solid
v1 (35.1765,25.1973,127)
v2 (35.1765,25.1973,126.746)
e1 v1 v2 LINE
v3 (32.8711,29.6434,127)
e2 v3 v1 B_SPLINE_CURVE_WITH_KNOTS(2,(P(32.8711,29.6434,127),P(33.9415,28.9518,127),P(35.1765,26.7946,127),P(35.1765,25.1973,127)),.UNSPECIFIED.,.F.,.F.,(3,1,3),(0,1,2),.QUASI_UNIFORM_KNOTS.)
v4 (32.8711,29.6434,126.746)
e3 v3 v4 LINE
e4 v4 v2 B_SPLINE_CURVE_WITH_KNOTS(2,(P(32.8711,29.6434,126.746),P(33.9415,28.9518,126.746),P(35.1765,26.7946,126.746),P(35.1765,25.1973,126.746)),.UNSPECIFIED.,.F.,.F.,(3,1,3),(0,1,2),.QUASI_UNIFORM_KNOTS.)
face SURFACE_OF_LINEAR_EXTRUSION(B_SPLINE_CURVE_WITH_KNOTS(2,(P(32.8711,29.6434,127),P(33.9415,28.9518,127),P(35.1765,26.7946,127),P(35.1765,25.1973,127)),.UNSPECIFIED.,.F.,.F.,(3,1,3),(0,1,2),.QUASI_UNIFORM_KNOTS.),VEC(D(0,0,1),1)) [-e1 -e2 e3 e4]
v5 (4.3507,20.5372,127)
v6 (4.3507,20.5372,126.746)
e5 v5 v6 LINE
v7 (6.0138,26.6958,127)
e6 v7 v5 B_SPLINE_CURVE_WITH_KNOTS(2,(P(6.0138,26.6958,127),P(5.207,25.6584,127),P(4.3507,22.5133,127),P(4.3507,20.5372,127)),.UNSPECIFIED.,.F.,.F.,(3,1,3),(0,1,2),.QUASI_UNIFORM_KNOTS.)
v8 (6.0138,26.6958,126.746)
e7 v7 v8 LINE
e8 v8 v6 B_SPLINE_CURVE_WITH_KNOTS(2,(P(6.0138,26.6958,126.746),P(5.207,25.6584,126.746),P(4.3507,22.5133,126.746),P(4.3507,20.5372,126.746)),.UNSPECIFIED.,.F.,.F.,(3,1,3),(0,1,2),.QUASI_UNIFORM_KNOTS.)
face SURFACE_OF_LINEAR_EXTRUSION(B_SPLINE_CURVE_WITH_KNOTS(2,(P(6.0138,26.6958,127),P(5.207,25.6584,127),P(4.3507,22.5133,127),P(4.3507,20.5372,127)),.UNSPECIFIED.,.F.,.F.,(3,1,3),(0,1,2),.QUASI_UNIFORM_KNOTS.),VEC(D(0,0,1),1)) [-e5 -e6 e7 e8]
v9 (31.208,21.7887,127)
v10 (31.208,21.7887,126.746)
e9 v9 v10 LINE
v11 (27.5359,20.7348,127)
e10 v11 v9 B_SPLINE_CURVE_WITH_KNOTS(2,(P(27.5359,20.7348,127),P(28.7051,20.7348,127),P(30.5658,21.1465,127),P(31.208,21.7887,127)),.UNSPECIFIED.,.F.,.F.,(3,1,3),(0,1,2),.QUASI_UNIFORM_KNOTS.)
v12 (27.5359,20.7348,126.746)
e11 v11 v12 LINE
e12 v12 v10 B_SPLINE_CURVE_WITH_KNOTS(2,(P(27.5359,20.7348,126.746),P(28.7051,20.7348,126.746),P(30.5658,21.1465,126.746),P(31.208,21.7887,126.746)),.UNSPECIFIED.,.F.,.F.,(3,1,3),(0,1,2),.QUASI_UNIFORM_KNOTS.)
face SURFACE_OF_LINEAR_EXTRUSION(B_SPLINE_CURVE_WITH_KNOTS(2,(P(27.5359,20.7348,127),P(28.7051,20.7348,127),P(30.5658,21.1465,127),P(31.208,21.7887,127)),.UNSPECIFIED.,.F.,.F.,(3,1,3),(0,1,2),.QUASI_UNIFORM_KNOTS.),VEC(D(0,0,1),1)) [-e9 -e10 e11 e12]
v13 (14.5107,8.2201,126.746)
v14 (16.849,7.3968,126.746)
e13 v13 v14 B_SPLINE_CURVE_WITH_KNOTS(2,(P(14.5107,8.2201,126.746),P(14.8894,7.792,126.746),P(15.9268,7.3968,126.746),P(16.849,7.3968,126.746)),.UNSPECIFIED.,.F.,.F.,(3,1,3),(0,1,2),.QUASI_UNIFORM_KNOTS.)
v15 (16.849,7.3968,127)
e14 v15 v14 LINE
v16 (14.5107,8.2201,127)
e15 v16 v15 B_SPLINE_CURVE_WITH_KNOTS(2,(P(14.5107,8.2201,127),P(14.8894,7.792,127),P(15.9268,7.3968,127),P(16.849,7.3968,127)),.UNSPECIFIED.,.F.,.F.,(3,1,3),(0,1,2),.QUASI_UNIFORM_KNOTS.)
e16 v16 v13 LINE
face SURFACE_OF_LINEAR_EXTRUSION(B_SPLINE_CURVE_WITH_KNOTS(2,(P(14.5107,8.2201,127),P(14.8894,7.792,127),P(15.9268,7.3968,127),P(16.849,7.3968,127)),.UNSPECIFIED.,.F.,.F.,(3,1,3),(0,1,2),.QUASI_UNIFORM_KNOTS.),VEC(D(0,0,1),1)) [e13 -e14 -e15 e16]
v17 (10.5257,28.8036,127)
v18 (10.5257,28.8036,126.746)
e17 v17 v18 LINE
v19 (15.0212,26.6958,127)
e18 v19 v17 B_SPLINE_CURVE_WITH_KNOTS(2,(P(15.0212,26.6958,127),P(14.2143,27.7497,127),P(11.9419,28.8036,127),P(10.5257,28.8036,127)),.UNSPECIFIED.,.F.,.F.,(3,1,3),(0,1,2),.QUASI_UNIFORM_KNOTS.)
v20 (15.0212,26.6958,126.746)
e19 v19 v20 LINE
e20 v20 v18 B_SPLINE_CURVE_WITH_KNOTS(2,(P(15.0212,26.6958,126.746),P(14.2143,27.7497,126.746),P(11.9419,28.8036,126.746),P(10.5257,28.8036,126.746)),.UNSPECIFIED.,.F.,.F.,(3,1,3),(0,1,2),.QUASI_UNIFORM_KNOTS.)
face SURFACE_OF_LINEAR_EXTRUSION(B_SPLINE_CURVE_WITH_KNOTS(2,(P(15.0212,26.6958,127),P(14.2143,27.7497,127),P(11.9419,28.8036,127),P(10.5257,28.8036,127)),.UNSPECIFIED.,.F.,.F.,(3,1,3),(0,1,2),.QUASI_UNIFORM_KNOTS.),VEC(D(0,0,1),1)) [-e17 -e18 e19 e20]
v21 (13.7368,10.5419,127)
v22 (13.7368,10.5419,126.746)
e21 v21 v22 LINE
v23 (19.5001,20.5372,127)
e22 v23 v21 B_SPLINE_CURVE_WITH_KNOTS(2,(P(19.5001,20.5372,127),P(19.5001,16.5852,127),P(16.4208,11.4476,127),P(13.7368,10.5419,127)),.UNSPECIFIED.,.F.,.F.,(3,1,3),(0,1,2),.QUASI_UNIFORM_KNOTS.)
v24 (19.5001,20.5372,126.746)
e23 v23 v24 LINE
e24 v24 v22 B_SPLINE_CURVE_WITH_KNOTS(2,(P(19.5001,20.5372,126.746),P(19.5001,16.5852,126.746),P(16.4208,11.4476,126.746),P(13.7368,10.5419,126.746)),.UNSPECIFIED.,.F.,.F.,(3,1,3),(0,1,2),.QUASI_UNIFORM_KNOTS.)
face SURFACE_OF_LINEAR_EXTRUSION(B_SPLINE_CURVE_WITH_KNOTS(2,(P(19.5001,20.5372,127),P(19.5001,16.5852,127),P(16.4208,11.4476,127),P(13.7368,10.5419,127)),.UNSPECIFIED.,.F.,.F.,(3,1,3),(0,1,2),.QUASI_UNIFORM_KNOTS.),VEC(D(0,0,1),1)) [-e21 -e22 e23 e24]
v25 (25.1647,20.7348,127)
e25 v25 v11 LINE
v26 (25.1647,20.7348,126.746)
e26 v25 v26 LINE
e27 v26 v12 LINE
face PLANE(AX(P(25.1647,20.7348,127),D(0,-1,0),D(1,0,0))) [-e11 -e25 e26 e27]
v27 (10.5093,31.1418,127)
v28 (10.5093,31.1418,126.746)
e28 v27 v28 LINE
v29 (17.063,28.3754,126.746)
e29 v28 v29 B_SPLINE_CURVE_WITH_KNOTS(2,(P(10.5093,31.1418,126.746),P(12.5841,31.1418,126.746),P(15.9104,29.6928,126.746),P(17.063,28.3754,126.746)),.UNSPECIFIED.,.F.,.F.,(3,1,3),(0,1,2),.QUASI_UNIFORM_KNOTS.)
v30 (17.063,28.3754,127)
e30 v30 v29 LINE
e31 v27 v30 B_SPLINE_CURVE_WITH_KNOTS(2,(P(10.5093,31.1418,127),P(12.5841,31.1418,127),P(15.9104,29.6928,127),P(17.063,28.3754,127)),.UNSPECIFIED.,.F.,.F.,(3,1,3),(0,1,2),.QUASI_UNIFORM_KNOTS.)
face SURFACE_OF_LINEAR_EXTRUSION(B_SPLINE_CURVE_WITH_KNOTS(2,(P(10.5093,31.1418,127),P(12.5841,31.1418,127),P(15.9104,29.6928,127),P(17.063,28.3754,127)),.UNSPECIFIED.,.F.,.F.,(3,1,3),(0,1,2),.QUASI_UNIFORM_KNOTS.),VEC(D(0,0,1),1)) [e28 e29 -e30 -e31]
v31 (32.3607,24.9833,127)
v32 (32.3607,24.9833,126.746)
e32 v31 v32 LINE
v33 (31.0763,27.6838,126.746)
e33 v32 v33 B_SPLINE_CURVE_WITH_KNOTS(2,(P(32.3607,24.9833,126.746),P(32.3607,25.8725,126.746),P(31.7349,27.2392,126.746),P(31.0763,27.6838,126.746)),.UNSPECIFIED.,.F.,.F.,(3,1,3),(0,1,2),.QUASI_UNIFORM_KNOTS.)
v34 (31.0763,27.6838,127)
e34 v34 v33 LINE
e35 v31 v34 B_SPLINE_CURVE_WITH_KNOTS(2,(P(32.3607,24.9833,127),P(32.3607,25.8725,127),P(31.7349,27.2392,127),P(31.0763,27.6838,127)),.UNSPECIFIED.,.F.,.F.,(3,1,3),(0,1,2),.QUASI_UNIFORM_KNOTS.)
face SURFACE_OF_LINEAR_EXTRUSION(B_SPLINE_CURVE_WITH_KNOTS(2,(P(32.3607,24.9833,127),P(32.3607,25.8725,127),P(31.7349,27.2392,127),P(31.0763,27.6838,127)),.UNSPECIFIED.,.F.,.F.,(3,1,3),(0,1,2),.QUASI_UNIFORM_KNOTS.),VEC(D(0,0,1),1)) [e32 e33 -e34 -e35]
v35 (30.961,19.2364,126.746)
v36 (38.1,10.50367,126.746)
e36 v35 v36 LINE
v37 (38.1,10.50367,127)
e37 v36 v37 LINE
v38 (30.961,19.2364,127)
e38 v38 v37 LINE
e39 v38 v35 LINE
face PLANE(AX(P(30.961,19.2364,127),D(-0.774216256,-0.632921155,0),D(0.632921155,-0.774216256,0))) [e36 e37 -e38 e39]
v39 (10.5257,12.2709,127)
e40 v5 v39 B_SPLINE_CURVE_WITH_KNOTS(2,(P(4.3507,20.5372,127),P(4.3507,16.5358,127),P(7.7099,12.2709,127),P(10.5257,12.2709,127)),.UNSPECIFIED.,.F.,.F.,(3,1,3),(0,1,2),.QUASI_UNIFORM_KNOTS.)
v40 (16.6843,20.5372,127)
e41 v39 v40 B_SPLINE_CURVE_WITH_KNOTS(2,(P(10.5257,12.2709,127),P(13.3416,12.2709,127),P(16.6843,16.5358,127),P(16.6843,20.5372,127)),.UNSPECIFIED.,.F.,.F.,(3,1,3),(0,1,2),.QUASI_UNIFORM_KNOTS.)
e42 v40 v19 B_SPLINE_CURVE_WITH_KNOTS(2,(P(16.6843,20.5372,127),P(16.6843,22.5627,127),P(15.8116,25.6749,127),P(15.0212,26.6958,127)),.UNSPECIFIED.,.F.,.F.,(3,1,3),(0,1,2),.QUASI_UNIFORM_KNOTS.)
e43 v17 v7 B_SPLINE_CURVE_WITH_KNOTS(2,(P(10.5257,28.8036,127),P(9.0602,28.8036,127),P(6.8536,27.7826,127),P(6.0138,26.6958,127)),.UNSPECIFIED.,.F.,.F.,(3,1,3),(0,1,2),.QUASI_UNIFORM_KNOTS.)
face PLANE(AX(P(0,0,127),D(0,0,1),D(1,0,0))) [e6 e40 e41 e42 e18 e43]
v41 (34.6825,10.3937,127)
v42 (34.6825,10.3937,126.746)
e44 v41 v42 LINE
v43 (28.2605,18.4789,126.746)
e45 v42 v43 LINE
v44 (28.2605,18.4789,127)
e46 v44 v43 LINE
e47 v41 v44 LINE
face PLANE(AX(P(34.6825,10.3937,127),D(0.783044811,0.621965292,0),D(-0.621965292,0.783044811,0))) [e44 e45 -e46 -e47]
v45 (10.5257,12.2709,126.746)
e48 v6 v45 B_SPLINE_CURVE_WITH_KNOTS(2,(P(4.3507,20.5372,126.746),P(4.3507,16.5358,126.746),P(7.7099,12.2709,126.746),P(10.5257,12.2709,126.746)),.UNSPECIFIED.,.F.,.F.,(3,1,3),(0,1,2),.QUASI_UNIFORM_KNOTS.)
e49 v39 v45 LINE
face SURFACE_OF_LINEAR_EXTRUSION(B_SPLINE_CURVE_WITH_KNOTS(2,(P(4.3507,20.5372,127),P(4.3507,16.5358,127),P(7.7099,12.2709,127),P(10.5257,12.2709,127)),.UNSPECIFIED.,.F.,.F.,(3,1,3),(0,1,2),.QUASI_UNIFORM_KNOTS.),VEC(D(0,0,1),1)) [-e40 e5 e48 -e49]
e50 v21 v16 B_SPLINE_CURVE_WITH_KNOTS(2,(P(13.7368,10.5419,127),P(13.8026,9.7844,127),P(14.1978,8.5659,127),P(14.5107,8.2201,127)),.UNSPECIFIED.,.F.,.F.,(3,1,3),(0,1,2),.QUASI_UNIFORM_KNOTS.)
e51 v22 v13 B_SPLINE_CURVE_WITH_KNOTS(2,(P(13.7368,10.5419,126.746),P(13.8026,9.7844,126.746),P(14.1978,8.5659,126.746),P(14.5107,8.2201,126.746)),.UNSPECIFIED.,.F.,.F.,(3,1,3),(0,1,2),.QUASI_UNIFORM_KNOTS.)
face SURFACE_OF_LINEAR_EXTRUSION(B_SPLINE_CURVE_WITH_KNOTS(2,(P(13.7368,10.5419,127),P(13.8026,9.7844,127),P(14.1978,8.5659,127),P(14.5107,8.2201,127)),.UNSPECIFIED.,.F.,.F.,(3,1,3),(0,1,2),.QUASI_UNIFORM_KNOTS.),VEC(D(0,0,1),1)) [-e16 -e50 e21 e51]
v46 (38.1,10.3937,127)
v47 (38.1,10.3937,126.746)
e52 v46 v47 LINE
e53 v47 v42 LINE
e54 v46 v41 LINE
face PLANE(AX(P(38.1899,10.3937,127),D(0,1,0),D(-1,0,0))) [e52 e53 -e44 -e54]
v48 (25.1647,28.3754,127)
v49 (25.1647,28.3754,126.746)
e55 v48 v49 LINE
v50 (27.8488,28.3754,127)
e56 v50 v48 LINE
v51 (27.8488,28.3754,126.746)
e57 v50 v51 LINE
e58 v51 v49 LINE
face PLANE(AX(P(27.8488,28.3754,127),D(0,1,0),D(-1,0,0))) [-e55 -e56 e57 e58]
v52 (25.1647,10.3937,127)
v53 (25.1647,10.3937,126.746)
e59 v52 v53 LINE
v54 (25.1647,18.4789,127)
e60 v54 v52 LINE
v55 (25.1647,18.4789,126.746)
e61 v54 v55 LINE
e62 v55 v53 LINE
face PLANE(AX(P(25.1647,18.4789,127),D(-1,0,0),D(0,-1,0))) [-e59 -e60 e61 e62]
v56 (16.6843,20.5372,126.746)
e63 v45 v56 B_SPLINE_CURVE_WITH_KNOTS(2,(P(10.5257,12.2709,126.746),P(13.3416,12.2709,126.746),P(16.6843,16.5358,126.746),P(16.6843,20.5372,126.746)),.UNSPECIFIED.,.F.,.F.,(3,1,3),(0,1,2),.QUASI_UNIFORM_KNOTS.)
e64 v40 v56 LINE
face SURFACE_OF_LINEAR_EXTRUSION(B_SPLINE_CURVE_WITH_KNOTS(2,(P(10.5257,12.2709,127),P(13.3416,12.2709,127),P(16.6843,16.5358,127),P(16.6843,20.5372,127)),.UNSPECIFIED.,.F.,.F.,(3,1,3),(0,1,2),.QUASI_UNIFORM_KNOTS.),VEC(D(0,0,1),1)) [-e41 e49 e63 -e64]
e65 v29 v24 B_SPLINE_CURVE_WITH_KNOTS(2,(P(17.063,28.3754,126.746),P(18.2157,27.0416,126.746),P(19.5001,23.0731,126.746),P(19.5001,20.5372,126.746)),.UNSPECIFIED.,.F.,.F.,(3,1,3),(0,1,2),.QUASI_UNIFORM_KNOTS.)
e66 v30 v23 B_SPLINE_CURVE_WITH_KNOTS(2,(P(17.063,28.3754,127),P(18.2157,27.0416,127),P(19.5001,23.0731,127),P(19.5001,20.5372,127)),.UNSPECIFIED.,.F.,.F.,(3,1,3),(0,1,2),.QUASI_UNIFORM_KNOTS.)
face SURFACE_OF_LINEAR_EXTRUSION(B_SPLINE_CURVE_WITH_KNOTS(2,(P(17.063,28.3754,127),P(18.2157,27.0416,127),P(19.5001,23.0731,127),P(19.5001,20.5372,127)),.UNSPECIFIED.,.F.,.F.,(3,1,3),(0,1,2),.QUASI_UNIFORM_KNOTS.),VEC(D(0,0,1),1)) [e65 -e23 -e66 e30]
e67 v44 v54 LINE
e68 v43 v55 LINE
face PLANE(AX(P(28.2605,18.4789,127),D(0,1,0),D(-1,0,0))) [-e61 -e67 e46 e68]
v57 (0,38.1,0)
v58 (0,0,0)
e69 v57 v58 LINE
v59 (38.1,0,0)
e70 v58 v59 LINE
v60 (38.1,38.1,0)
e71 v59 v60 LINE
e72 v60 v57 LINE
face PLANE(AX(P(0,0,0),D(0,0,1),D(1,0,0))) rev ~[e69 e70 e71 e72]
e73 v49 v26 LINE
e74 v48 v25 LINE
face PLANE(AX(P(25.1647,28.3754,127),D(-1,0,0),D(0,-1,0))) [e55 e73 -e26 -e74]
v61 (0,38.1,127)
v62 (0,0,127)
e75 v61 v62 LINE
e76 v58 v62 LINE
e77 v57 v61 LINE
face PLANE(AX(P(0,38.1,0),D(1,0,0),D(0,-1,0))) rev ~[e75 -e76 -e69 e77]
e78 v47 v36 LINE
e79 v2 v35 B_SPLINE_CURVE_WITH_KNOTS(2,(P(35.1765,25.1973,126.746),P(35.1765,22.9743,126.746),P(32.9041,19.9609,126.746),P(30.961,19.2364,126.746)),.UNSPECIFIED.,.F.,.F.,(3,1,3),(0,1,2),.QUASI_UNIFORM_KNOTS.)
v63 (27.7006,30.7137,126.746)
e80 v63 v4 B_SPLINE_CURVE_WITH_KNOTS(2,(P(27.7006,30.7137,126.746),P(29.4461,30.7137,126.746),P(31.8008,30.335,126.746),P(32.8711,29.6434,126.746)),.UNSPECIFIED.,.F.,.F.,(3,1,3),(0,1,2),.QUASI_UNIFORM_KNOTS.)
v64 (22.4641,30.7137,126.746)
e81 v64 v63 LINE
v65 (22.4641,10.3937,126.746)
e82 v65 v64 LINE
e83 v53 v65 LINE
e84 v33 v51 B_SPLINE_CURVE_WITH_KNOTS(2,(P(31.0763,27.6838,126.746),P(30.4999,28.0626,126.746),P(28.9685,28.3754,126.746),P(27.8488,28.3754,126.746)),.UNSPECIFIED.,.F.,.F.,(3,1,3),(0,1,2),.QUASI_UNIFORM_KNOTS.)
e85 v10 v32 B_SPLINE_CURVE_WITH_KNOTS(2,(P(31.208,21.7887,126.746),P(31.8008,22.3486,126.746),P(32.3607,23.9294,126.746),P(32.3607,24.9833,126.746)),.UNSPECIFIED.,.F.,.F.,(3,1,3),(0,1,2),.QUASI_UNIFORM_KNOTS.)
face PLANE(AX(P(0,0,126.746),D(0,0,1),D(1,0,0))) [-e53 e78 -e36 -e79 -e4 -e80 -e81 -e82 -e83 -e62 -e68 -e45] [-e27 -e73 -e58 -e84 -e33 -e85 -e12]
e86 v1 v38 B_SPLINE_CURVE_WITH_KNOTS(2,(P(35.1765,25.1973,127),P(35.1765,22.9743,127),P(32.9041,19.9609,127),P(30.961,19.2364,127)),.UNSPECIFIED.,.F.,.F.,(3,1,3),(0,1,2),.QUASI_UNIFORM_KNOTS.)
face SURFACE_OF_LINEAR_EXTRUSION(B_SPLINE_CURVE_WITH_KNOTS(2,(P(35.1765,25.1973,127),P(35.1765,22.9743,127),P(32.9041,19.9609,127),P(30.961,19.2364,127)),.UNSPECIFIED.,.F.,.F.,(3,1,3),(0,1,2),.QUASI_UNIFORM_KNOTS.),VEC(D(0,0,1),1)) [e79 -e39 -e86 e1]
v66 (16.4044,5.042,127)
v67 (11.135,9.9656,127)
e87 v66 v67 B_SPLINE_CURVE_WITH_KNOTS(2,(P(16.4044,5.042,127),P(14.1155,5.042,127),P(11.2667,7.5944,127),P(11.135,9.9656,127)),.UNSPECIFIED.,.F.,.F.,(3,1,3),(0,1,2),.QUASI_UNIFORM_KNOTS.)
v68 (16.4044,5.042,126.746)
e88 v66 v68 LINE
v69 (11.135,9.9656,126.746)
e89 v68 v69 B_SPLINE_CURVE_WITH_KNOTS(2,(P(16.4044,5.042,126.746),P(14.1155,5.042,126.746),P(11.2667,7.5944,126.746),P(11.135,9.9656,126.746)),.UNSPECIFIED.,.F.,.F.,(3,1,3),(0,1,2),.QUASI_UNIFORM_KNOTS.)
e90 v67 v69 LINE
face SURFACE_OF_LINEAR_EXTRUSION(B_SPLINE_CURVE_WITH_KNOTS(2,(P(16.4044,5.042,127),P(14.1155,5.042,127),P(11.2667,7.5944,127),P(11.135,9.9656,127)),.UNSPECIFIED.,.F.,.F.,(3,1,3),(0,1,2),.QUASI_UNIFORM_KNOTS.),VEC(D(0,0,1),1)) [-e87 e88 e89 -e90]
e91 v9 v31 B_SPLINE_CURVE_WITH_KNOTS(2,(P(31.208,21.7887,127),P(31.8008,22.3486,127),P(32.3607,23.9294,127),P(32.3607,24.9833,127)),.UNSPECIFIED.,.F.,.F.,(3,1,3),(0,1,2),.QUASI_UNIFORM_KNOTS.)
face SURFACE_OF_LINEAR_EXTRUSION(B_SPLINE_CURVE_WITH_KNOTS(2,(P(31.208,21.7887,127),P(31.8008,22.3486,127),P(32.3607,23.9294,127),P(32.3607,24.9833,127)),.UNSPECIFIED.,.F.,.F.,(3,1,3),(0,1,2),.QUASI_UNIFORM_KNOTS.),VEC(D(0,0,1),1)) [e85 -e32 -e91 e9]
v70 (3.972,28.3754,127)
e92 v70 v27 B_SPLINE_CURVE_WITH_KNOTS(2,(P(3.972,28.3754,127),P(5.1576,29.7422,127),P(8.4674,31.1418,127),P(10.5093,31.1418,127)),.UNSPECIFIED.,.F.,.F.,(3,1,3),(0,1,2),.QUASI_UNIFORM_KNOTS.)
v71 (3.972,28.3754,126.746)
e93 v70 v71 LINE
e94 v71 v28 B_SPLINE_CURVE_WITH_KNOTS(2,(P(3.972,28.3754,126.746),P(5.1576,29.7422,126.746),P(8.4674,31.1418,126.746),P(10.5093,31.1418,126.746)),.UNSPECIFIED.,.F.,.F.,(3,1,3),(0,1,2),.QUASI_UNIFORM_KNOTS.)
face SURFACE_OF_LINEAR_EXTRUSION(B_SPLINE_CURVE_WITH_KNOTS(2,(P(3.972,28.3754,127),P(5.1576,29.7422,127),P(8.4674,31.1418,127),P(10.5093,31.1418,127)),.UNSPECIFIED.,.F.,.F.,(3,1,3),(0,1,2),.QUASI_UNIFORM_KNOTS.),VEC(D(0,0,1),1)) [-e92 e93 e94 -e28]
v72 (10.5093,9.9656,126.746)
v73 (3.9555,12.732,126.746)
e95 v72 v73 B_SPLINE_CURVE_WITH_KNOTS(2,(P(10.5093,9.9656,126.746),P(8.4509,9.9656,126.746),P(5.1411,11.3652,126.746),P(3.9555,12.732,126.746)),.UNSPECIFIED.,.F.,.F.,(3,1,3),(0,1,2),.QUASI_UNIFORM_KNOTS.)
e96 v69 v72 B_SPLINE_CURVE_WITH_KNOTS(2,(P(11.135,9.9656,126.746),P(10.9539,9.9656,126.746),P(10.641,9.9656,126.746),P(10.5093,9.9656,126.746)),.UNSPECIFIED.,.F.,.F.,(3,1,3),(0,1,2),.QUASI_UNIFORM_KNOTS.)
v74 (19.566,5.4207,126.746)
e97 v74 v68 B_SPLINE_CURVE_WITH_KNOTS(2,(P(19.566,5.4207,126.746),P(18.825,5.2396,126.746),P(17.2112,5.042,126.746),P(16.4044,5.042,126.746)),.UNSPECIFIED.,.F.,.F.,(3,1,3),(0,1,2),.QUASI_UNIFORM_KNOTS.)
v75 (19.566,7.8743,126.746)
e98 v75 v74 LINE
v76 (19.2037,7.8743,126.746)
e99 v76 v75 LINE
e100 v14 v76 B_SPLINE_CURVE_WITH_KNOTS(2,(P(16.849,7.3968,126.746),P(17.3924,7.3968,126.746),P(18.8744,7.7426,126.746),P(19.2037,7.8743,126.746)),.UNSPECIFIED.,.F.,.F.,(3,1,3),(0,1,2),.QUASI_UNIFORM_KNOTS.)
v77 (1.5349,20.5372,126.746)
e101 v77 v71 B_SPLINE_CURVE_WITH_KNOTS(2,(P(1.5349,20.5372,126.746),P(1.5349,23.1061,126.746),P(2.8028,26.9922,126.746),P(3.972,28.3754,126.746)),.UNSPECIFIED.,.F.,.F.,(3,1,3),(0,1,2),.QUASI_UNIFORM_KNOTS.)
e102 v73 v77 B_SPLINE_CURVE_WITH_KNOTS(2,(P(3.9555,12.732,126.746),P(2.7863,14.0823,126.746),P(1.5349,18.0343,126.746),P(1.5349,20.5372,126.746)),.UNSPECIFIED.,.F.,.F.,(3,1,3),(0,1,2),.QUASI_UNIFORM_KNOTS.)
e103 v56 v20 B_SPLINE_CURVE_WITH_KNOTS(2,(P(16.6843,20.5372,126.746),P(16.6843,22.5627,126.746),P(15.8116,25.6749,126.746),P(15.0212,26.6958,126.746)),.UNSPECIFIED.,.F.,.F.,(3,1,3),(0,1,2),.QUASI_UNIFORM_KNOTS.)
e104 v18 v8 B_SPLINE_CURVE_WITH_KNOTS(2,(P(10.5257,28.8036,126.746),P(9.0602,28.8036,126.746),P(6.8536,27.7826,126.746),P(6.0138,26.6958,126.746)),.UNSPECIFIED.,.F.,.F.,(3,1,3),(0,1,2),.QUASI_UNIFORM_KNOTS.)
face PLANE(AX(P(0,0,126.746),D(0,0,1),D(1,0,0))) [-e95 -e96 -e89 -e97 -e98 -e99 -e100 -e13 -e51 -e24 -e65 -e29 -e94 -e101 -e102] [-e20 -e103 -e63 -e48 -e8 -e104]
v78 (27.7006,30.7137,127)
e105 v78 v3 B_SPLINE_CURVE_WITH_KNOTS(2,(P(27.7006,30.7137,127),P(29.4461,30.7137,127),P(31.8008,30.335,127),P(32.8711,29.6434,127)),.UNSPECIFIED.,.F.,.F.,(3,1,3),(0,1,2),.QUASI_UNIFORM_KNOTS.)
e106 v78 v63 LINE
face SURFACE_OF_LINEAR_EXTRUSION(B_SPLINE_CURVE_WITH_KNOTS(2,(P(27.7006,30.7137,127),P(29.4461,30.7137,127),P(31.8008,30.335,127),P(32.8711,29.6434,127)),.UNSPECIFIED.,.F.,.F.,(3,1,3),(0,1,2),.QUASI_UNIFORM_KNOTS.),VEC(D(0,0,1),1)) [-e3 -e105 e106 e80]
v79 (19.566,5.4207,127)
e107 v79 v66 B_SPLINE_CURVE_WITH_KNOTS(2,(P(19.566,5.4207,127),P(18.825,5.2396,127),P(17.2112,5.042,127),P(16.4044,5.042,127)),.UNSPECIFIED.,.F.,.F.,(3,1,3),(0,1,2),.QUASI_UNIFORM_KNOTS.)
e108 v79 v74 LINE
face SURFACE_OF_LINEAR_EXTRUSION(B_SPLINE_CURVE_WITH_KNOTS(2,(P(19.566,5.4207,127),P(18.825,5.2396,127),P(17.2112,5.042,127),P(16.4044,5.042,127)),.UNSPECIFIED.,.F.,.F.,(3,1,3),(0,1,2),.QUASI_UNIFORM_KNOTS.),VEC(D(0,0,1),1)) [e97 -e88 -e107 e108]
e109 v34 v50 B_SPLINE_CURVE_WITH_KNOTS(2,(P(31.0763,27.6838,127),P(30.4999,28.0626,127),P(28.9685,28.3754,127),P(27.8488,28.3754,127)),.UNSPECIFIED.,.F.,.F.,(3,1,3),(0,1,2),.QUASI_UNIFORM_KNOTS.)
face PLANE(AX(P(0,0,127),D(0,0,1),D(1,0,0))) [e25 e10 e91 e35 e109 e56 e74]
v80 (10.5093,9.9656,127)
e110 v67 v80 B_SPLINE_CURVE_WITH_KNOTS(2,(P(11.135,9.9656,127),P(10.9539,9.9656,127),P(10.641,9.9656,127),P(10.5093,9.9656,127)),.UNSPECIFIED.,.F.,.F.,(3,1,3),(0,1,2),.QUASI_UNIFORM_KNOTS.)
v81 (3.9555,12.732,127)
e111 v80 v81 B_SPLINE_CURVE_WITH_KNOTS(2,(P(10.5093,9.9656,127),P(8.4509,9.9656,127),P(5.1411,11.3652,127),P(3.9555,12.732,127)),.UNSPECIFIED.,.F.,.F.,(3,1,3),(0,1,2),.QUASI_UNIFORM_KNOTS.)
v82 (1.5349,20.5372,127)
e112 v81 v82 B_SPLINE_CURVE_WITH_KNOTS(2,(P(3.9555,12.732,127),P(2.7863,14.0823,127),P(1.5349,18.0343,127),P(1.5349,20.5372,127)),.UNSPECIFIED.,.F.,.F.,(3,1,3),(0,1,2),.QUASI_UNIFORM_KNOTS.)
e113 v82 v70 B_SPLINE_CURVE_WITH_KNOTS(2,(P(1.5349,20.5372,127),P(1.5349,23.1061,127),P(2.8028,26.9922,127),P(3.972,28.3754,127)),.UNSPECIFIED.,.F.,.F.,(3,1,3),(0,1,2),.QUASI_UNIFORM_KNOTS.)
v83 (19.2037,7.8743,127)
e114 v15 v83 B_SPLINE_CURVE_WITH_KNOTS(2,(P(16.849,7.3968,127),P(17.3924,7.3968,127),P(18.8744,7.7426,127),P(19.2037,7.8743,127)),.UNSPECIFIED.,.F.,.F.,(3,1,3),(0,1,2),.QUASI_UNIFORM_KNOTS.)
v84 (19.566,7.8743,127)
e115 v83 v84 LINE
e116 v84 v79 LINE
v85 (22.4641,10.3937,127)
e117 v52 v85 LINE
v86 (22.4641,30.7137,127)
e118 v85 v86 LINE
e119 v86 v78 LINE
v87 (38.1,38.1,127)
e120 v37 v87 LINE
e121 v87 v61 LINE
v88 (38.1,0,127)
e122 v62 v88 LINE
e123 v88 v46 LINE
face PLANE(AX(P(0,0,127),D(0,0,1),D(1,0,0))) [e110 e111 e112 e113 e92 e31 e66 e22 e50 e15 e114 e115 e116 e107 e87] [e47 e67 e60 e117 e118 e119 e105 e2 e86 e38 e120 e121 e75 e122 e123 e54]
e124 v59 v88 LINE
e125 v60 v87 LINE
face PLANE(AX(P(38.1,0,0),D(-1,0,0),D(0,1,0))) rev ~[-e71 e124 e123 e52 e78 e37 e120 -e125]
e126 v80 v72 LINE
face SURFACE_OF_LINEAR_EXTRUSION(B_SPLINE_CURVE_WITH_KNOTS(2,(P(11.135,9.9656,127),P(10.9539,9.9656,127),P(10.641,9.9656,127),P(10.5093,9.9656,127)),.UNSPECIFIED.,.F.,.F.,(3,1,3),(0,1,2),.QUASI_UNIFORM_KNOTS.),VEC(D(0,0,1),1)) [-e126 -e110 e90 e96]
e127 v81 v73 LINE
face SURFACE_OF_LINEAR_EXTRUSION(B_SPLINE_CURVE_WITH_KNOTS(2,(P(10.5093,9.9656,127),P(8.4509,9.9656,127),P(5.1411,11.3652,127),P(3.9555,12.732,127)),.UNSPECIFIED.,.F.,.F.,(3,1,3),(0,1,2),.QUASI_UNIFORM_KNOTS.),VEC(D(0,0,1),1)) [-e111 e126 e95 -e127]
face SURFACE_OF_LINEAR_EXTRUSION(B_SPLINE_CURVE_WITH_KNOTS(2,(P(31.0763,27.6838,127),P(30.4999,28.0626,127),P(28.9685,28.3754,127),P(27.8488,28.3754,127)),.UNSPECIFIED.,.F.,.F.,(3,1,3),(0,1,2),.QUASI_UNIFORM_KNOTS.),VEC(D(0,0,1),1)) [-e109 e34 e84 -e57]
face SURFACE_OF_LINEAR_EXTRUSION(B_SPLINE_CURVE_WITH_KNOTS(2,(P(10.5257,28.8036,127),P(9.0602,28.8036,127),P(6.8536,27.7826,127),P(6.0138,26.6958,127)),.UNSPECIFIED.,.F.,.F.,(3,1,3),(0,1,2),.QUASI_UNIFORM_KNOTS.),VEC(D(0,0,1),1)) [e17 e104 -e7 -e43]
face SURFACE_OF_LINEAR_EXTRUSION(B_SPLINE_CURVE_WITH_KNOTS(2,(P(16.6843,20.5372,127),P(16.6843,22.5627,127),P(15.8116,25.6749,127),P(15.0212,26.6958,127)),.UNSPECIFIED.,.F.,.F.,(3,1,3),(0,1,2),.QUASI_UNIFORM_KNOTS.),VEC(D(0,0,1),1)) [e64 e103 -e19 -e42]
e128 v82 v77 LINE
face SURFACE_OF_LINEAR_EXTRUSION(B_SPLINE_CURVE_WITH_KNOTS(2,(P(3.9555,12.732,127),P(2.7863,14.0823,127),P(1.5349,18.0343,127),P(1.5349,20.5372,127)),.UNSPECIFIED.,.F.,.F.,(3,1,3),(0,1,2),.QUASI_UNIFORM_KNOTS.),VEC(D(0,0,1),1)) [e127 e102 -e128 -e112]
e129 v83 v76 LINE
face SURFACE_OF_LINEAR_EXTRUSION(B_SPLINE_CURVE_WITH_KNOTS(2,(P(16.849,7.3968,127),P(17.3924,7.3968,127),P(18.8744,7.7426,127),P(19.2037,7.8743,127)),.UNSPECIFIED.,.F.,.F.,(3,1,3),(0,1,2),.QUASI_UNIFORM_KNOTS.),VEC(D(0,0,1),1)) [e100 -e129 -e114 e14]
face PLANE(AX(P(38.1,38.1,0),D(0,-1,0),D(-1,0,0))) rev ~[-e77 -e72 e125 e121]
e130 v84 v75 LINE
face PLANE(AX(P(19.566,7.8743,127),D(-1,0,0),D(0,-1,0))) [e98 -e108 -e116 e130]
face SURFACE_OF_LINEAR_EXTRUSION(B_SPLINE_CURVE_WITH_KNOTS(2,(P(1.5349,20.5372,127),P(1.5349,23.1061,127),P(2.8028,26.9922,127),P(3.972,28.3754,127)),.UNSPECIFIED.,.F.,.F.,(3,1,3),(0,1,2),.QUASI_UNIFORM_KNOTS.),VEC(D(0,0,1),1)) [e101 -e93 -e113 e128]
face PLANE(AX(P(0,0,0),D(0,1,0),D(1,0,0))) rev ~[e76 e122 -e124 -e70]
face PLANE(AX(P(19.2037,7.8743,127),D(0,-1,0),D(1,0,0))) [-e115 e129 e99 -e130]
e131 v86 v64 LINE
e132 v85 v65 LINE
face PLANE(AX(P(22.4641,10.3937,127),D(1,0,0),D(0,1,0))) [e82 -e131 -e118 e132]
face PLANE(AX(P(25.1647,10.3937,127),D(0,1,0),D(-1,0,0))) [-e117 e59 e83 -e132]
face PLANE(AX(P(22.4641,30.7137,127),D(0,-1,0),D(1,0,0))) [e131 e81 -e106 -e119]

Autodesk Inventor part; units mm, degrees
ref_plane "YZ Plane" through (0, 0, 0) normal (1, 0, 0) x (0, 1, 0)
ref_plane "XZ Plane" through (0, 0, 0) normal (0, 1, 0) x (-1, 0, 0)
ref_plane "XY Plane" through (0, 0, 0) normal (0, 0, 1) x (1, 0, 0)
sketch "Sketch1" plane through (0, 0, 0) normal (0, 0, 1) x (1, 0, 0)
  line L0 (0, 0) -> (38.1, 0)
  line L1 (38.1, 0) -> (38.1, 38.1)
  line L2 (38.1, 38.1) -> (0, 38.1)
  line L3 (0, 38.1) -> (0, 0)
  dimension "d0" = 38.1
  dimension "d1" = 38.1
extrude "Extrusion1" add sketch "Sketch1" along normal blind 127
sketch "Sketch2" plane through (0, 0, 127) normal (0, 0, 1) x (1, 0, 0)
  line L0 (0.6292, 31.1418) -> (47.0243, 31.1418) construction
  line L1 (47.0243, 31.1418) -> (47.0243, -1.483) construction
  line L2 (47.0243, -1.483) -> (0.6292, -1.483) construction
  line L3 (0.6292, -1.483) -> (0.6292, 31.1418) construction
  spline S0 degree 2 poles (19.566, 5.4207) (18.825, 5.2396) (17.2112, 5.042) (16.4044, 5.042) knots 0 0 0 1 2 2 2
  spline S1 degree 2 poles (16.4044, 5.042) (14.1155, 5.042) (11.2667, 7.5944) (11.135, 9.9656) knots 0 0 0 1 2 2 2
  spline S2 degree 2 poles (11.135, 9.9656) (10.9539, 9.9656) (10.641, 9.9656) (10.5093, 9.9656) knots 0 0 0 1 2 2 2
  spline S3 degree 2 poles (10.5093, 9.9656) (8.4509, 9.9656) (5.1411, 11.3652) (3.9555, 12.732) knots 0 0 0 1 2 2 2
  spline S4 degree 2 poles (3.9555, 12.732) (2.7863, 14.0823) (1.5349, 18.0343) (1.5349, 20.5372) knots 0 0 0 1 2 2 2
  spline S5 degree 2 poles (1.5349, 20.5372) (1.5349, 23.1061) (2.8028, 26.9922) (3.972, 28.3754) knots 0 0 0 1 2 2 2
  spline S6 degree 2 poles (3.972, 28.3754) (5.1576, 29.7422) (8.4674, 31.1418) (10.5093, 31.1418) knots 0 0 0 1 2 2 2
  spline S7 degree 2 poles (10.5093, 31.1418) (12.5841, 31.1418) (15.9104, 29.6928) (17.063, 28.3754) knots 0 0 0 1 2 2 2
  spline S8 degree 2 poles (17.063, 28.3754) (18.2157, 27.0416) (19.5001, 23.0731) (19.5001, 20.5372) knots 0 0 0 1 2 2 2
  spline S9 degree 2 poles (19.5001, 20.5372) (19.5001, 16.5852) (16.4208, 11.4476) (13.7368, 10.5419) knots 0 0 0 1 2 2 2
  spline S10 degree 2 poles (13.7368, 10.5419) (13.8026, 9.7844) (14.1978, 8.5659) (14.5107, 8.2201) knots 0 0 0 1 2 2 2
  spline S11 degree 2 poles (14.5107, 8.2201) (14.8894, 7.792) (15.9268, 7.3968) (16.849, 7.3968) knots 0 0 0 1 2 2 2
  spline S12 degree 2 poles (16.849, 7.3968) (17.3924, 7.3968) (18.8744, 7.7426) (19.2037, 7.8743) knots 0 0 0 1 2 2 2
  line L4 (19.2037, 7.8743) -> (19.566, 7.8743)
  line L5 (19.566, 7.8743) -> (19.566, 5.4207)
  spline S13 degree 2 poles (16.6843, 20.5372) (16.6843, 22.5627) (15.8116, 25.6749) (15.0212, 26.6958) knots 0 0 0 1 2 2 2
  spline S14 degree 2 poles (15.0212, 26.6958) (14.2143, 27.7497) (11.9419, 28.8036) (10.5257, 28.8036) knots 0 0 0 1 2 2 2
  spline S15 degree 2 poles (10.5257, 28.8036) (9.0602, 28.8036) (6.8536, 27.7826) (6.0138, 26.6958) knots 0 0 0 1 2 2 2
  spline S16 degree 2 poles (6.0138, 26.6958) (5.207, 25.6584) (4.3507, 22.5133) (4.3507, 20.5372) knots 0 0 0 1 2 2 2
  spline S17 degree 2 poles (4.3507, 20.5372) (4.3507, 16.5358) (7.7099, 12.2709) (10.5257, 12.2709) knots 0 0 0 1 2 2 2
  spline S18 degree 2 poles (10.5257, 12.2709) (13.3416, 12.2709) (16.6843, 16.5358) (16.6843, 20.5372) knots 0 0 0 1 2 2 2
  line L6 (38.1899, 10.3937) -> (34.6825, 10.3937)
  line L7 (34.6825, 10.3937) -> (28.2605, 18.4789)
  line L8 (28.2605, 18.4789) -> (25.1647, 18.4789)
  line L9 (25.1647, 18.4789) -> (25.1647, 10.3937)
  line L10 (25.1647, 10.3937) -> (22.4641, 10.3937)
  line L11 (22.4641, 10.3937) -> (22.4641, 30.7137)
  line L12 (22.4641, 30.7137) -> (27.7006, 30.7137)
  spline S19 degree 2 poles (27.7006, 30.7137) (29.4461, 30.7137) (31.8008, 30.335) (32.8711, 29.6434) knots 0 0 0 1 2 2 2
  spline S20 degree 2 poles (32.8711, 29.6434) (33.9415, 28.9518) (35.1765, 26.7946) (35.1765, 25.1973) knots 0 0 0 1 2 2 2
  spline S21 degree 2 poles (35.1765, 25.1973) (35.1765, 22.9743) (32.9041, 19.9609) (30.961, 19.2364) knots 0 0 0 1 2 2 2
  line L13 (30.961, 19.2364) -> (38.1899, 10.3937)
  spline S22 degree 2 poles (32.3607, 24.9833) (32.3607, 25.8725) (31.7349, 27.2392) (31.0763, 27.6838) knots 0 0 0 1 2 2 2
  spline S23 degree 2 poles (31.0763, 27.6838) (30.4999, 28.0626) (28.9685, 28.3754) (27.8488, 28.3754) knots 0 0 0 1 2 2 2
  line L14 (27.8488, 28.3754) -> (25.1647, 28.3754)
  line L15 (25.1647, 28.3754) -> (25.1647, 20.7348)
  line L16 (25.1647, 20.7348) -> (27.5359, 20.7348)
  spline S24 degree 2 poles (27.5359, 20.7348) (28.7051, 20.7348) (30.5658, 21.1465) (31.208, 21.7887) knots 0 0 0 1 2 2 2
  spline S25 degree 2 poles (31.208, 21.7887) (31.8008, 22.3486) (32.3607, 23.9294) (32.3607, 24.9833) knots 0 0 0 1 2 2 2
  point P0 (0, 0)
extrude "Extrusion3" cut sketch "Sketch2" against normal blind 0.254
properties part number "Container 2 2 5 colored color 4"
